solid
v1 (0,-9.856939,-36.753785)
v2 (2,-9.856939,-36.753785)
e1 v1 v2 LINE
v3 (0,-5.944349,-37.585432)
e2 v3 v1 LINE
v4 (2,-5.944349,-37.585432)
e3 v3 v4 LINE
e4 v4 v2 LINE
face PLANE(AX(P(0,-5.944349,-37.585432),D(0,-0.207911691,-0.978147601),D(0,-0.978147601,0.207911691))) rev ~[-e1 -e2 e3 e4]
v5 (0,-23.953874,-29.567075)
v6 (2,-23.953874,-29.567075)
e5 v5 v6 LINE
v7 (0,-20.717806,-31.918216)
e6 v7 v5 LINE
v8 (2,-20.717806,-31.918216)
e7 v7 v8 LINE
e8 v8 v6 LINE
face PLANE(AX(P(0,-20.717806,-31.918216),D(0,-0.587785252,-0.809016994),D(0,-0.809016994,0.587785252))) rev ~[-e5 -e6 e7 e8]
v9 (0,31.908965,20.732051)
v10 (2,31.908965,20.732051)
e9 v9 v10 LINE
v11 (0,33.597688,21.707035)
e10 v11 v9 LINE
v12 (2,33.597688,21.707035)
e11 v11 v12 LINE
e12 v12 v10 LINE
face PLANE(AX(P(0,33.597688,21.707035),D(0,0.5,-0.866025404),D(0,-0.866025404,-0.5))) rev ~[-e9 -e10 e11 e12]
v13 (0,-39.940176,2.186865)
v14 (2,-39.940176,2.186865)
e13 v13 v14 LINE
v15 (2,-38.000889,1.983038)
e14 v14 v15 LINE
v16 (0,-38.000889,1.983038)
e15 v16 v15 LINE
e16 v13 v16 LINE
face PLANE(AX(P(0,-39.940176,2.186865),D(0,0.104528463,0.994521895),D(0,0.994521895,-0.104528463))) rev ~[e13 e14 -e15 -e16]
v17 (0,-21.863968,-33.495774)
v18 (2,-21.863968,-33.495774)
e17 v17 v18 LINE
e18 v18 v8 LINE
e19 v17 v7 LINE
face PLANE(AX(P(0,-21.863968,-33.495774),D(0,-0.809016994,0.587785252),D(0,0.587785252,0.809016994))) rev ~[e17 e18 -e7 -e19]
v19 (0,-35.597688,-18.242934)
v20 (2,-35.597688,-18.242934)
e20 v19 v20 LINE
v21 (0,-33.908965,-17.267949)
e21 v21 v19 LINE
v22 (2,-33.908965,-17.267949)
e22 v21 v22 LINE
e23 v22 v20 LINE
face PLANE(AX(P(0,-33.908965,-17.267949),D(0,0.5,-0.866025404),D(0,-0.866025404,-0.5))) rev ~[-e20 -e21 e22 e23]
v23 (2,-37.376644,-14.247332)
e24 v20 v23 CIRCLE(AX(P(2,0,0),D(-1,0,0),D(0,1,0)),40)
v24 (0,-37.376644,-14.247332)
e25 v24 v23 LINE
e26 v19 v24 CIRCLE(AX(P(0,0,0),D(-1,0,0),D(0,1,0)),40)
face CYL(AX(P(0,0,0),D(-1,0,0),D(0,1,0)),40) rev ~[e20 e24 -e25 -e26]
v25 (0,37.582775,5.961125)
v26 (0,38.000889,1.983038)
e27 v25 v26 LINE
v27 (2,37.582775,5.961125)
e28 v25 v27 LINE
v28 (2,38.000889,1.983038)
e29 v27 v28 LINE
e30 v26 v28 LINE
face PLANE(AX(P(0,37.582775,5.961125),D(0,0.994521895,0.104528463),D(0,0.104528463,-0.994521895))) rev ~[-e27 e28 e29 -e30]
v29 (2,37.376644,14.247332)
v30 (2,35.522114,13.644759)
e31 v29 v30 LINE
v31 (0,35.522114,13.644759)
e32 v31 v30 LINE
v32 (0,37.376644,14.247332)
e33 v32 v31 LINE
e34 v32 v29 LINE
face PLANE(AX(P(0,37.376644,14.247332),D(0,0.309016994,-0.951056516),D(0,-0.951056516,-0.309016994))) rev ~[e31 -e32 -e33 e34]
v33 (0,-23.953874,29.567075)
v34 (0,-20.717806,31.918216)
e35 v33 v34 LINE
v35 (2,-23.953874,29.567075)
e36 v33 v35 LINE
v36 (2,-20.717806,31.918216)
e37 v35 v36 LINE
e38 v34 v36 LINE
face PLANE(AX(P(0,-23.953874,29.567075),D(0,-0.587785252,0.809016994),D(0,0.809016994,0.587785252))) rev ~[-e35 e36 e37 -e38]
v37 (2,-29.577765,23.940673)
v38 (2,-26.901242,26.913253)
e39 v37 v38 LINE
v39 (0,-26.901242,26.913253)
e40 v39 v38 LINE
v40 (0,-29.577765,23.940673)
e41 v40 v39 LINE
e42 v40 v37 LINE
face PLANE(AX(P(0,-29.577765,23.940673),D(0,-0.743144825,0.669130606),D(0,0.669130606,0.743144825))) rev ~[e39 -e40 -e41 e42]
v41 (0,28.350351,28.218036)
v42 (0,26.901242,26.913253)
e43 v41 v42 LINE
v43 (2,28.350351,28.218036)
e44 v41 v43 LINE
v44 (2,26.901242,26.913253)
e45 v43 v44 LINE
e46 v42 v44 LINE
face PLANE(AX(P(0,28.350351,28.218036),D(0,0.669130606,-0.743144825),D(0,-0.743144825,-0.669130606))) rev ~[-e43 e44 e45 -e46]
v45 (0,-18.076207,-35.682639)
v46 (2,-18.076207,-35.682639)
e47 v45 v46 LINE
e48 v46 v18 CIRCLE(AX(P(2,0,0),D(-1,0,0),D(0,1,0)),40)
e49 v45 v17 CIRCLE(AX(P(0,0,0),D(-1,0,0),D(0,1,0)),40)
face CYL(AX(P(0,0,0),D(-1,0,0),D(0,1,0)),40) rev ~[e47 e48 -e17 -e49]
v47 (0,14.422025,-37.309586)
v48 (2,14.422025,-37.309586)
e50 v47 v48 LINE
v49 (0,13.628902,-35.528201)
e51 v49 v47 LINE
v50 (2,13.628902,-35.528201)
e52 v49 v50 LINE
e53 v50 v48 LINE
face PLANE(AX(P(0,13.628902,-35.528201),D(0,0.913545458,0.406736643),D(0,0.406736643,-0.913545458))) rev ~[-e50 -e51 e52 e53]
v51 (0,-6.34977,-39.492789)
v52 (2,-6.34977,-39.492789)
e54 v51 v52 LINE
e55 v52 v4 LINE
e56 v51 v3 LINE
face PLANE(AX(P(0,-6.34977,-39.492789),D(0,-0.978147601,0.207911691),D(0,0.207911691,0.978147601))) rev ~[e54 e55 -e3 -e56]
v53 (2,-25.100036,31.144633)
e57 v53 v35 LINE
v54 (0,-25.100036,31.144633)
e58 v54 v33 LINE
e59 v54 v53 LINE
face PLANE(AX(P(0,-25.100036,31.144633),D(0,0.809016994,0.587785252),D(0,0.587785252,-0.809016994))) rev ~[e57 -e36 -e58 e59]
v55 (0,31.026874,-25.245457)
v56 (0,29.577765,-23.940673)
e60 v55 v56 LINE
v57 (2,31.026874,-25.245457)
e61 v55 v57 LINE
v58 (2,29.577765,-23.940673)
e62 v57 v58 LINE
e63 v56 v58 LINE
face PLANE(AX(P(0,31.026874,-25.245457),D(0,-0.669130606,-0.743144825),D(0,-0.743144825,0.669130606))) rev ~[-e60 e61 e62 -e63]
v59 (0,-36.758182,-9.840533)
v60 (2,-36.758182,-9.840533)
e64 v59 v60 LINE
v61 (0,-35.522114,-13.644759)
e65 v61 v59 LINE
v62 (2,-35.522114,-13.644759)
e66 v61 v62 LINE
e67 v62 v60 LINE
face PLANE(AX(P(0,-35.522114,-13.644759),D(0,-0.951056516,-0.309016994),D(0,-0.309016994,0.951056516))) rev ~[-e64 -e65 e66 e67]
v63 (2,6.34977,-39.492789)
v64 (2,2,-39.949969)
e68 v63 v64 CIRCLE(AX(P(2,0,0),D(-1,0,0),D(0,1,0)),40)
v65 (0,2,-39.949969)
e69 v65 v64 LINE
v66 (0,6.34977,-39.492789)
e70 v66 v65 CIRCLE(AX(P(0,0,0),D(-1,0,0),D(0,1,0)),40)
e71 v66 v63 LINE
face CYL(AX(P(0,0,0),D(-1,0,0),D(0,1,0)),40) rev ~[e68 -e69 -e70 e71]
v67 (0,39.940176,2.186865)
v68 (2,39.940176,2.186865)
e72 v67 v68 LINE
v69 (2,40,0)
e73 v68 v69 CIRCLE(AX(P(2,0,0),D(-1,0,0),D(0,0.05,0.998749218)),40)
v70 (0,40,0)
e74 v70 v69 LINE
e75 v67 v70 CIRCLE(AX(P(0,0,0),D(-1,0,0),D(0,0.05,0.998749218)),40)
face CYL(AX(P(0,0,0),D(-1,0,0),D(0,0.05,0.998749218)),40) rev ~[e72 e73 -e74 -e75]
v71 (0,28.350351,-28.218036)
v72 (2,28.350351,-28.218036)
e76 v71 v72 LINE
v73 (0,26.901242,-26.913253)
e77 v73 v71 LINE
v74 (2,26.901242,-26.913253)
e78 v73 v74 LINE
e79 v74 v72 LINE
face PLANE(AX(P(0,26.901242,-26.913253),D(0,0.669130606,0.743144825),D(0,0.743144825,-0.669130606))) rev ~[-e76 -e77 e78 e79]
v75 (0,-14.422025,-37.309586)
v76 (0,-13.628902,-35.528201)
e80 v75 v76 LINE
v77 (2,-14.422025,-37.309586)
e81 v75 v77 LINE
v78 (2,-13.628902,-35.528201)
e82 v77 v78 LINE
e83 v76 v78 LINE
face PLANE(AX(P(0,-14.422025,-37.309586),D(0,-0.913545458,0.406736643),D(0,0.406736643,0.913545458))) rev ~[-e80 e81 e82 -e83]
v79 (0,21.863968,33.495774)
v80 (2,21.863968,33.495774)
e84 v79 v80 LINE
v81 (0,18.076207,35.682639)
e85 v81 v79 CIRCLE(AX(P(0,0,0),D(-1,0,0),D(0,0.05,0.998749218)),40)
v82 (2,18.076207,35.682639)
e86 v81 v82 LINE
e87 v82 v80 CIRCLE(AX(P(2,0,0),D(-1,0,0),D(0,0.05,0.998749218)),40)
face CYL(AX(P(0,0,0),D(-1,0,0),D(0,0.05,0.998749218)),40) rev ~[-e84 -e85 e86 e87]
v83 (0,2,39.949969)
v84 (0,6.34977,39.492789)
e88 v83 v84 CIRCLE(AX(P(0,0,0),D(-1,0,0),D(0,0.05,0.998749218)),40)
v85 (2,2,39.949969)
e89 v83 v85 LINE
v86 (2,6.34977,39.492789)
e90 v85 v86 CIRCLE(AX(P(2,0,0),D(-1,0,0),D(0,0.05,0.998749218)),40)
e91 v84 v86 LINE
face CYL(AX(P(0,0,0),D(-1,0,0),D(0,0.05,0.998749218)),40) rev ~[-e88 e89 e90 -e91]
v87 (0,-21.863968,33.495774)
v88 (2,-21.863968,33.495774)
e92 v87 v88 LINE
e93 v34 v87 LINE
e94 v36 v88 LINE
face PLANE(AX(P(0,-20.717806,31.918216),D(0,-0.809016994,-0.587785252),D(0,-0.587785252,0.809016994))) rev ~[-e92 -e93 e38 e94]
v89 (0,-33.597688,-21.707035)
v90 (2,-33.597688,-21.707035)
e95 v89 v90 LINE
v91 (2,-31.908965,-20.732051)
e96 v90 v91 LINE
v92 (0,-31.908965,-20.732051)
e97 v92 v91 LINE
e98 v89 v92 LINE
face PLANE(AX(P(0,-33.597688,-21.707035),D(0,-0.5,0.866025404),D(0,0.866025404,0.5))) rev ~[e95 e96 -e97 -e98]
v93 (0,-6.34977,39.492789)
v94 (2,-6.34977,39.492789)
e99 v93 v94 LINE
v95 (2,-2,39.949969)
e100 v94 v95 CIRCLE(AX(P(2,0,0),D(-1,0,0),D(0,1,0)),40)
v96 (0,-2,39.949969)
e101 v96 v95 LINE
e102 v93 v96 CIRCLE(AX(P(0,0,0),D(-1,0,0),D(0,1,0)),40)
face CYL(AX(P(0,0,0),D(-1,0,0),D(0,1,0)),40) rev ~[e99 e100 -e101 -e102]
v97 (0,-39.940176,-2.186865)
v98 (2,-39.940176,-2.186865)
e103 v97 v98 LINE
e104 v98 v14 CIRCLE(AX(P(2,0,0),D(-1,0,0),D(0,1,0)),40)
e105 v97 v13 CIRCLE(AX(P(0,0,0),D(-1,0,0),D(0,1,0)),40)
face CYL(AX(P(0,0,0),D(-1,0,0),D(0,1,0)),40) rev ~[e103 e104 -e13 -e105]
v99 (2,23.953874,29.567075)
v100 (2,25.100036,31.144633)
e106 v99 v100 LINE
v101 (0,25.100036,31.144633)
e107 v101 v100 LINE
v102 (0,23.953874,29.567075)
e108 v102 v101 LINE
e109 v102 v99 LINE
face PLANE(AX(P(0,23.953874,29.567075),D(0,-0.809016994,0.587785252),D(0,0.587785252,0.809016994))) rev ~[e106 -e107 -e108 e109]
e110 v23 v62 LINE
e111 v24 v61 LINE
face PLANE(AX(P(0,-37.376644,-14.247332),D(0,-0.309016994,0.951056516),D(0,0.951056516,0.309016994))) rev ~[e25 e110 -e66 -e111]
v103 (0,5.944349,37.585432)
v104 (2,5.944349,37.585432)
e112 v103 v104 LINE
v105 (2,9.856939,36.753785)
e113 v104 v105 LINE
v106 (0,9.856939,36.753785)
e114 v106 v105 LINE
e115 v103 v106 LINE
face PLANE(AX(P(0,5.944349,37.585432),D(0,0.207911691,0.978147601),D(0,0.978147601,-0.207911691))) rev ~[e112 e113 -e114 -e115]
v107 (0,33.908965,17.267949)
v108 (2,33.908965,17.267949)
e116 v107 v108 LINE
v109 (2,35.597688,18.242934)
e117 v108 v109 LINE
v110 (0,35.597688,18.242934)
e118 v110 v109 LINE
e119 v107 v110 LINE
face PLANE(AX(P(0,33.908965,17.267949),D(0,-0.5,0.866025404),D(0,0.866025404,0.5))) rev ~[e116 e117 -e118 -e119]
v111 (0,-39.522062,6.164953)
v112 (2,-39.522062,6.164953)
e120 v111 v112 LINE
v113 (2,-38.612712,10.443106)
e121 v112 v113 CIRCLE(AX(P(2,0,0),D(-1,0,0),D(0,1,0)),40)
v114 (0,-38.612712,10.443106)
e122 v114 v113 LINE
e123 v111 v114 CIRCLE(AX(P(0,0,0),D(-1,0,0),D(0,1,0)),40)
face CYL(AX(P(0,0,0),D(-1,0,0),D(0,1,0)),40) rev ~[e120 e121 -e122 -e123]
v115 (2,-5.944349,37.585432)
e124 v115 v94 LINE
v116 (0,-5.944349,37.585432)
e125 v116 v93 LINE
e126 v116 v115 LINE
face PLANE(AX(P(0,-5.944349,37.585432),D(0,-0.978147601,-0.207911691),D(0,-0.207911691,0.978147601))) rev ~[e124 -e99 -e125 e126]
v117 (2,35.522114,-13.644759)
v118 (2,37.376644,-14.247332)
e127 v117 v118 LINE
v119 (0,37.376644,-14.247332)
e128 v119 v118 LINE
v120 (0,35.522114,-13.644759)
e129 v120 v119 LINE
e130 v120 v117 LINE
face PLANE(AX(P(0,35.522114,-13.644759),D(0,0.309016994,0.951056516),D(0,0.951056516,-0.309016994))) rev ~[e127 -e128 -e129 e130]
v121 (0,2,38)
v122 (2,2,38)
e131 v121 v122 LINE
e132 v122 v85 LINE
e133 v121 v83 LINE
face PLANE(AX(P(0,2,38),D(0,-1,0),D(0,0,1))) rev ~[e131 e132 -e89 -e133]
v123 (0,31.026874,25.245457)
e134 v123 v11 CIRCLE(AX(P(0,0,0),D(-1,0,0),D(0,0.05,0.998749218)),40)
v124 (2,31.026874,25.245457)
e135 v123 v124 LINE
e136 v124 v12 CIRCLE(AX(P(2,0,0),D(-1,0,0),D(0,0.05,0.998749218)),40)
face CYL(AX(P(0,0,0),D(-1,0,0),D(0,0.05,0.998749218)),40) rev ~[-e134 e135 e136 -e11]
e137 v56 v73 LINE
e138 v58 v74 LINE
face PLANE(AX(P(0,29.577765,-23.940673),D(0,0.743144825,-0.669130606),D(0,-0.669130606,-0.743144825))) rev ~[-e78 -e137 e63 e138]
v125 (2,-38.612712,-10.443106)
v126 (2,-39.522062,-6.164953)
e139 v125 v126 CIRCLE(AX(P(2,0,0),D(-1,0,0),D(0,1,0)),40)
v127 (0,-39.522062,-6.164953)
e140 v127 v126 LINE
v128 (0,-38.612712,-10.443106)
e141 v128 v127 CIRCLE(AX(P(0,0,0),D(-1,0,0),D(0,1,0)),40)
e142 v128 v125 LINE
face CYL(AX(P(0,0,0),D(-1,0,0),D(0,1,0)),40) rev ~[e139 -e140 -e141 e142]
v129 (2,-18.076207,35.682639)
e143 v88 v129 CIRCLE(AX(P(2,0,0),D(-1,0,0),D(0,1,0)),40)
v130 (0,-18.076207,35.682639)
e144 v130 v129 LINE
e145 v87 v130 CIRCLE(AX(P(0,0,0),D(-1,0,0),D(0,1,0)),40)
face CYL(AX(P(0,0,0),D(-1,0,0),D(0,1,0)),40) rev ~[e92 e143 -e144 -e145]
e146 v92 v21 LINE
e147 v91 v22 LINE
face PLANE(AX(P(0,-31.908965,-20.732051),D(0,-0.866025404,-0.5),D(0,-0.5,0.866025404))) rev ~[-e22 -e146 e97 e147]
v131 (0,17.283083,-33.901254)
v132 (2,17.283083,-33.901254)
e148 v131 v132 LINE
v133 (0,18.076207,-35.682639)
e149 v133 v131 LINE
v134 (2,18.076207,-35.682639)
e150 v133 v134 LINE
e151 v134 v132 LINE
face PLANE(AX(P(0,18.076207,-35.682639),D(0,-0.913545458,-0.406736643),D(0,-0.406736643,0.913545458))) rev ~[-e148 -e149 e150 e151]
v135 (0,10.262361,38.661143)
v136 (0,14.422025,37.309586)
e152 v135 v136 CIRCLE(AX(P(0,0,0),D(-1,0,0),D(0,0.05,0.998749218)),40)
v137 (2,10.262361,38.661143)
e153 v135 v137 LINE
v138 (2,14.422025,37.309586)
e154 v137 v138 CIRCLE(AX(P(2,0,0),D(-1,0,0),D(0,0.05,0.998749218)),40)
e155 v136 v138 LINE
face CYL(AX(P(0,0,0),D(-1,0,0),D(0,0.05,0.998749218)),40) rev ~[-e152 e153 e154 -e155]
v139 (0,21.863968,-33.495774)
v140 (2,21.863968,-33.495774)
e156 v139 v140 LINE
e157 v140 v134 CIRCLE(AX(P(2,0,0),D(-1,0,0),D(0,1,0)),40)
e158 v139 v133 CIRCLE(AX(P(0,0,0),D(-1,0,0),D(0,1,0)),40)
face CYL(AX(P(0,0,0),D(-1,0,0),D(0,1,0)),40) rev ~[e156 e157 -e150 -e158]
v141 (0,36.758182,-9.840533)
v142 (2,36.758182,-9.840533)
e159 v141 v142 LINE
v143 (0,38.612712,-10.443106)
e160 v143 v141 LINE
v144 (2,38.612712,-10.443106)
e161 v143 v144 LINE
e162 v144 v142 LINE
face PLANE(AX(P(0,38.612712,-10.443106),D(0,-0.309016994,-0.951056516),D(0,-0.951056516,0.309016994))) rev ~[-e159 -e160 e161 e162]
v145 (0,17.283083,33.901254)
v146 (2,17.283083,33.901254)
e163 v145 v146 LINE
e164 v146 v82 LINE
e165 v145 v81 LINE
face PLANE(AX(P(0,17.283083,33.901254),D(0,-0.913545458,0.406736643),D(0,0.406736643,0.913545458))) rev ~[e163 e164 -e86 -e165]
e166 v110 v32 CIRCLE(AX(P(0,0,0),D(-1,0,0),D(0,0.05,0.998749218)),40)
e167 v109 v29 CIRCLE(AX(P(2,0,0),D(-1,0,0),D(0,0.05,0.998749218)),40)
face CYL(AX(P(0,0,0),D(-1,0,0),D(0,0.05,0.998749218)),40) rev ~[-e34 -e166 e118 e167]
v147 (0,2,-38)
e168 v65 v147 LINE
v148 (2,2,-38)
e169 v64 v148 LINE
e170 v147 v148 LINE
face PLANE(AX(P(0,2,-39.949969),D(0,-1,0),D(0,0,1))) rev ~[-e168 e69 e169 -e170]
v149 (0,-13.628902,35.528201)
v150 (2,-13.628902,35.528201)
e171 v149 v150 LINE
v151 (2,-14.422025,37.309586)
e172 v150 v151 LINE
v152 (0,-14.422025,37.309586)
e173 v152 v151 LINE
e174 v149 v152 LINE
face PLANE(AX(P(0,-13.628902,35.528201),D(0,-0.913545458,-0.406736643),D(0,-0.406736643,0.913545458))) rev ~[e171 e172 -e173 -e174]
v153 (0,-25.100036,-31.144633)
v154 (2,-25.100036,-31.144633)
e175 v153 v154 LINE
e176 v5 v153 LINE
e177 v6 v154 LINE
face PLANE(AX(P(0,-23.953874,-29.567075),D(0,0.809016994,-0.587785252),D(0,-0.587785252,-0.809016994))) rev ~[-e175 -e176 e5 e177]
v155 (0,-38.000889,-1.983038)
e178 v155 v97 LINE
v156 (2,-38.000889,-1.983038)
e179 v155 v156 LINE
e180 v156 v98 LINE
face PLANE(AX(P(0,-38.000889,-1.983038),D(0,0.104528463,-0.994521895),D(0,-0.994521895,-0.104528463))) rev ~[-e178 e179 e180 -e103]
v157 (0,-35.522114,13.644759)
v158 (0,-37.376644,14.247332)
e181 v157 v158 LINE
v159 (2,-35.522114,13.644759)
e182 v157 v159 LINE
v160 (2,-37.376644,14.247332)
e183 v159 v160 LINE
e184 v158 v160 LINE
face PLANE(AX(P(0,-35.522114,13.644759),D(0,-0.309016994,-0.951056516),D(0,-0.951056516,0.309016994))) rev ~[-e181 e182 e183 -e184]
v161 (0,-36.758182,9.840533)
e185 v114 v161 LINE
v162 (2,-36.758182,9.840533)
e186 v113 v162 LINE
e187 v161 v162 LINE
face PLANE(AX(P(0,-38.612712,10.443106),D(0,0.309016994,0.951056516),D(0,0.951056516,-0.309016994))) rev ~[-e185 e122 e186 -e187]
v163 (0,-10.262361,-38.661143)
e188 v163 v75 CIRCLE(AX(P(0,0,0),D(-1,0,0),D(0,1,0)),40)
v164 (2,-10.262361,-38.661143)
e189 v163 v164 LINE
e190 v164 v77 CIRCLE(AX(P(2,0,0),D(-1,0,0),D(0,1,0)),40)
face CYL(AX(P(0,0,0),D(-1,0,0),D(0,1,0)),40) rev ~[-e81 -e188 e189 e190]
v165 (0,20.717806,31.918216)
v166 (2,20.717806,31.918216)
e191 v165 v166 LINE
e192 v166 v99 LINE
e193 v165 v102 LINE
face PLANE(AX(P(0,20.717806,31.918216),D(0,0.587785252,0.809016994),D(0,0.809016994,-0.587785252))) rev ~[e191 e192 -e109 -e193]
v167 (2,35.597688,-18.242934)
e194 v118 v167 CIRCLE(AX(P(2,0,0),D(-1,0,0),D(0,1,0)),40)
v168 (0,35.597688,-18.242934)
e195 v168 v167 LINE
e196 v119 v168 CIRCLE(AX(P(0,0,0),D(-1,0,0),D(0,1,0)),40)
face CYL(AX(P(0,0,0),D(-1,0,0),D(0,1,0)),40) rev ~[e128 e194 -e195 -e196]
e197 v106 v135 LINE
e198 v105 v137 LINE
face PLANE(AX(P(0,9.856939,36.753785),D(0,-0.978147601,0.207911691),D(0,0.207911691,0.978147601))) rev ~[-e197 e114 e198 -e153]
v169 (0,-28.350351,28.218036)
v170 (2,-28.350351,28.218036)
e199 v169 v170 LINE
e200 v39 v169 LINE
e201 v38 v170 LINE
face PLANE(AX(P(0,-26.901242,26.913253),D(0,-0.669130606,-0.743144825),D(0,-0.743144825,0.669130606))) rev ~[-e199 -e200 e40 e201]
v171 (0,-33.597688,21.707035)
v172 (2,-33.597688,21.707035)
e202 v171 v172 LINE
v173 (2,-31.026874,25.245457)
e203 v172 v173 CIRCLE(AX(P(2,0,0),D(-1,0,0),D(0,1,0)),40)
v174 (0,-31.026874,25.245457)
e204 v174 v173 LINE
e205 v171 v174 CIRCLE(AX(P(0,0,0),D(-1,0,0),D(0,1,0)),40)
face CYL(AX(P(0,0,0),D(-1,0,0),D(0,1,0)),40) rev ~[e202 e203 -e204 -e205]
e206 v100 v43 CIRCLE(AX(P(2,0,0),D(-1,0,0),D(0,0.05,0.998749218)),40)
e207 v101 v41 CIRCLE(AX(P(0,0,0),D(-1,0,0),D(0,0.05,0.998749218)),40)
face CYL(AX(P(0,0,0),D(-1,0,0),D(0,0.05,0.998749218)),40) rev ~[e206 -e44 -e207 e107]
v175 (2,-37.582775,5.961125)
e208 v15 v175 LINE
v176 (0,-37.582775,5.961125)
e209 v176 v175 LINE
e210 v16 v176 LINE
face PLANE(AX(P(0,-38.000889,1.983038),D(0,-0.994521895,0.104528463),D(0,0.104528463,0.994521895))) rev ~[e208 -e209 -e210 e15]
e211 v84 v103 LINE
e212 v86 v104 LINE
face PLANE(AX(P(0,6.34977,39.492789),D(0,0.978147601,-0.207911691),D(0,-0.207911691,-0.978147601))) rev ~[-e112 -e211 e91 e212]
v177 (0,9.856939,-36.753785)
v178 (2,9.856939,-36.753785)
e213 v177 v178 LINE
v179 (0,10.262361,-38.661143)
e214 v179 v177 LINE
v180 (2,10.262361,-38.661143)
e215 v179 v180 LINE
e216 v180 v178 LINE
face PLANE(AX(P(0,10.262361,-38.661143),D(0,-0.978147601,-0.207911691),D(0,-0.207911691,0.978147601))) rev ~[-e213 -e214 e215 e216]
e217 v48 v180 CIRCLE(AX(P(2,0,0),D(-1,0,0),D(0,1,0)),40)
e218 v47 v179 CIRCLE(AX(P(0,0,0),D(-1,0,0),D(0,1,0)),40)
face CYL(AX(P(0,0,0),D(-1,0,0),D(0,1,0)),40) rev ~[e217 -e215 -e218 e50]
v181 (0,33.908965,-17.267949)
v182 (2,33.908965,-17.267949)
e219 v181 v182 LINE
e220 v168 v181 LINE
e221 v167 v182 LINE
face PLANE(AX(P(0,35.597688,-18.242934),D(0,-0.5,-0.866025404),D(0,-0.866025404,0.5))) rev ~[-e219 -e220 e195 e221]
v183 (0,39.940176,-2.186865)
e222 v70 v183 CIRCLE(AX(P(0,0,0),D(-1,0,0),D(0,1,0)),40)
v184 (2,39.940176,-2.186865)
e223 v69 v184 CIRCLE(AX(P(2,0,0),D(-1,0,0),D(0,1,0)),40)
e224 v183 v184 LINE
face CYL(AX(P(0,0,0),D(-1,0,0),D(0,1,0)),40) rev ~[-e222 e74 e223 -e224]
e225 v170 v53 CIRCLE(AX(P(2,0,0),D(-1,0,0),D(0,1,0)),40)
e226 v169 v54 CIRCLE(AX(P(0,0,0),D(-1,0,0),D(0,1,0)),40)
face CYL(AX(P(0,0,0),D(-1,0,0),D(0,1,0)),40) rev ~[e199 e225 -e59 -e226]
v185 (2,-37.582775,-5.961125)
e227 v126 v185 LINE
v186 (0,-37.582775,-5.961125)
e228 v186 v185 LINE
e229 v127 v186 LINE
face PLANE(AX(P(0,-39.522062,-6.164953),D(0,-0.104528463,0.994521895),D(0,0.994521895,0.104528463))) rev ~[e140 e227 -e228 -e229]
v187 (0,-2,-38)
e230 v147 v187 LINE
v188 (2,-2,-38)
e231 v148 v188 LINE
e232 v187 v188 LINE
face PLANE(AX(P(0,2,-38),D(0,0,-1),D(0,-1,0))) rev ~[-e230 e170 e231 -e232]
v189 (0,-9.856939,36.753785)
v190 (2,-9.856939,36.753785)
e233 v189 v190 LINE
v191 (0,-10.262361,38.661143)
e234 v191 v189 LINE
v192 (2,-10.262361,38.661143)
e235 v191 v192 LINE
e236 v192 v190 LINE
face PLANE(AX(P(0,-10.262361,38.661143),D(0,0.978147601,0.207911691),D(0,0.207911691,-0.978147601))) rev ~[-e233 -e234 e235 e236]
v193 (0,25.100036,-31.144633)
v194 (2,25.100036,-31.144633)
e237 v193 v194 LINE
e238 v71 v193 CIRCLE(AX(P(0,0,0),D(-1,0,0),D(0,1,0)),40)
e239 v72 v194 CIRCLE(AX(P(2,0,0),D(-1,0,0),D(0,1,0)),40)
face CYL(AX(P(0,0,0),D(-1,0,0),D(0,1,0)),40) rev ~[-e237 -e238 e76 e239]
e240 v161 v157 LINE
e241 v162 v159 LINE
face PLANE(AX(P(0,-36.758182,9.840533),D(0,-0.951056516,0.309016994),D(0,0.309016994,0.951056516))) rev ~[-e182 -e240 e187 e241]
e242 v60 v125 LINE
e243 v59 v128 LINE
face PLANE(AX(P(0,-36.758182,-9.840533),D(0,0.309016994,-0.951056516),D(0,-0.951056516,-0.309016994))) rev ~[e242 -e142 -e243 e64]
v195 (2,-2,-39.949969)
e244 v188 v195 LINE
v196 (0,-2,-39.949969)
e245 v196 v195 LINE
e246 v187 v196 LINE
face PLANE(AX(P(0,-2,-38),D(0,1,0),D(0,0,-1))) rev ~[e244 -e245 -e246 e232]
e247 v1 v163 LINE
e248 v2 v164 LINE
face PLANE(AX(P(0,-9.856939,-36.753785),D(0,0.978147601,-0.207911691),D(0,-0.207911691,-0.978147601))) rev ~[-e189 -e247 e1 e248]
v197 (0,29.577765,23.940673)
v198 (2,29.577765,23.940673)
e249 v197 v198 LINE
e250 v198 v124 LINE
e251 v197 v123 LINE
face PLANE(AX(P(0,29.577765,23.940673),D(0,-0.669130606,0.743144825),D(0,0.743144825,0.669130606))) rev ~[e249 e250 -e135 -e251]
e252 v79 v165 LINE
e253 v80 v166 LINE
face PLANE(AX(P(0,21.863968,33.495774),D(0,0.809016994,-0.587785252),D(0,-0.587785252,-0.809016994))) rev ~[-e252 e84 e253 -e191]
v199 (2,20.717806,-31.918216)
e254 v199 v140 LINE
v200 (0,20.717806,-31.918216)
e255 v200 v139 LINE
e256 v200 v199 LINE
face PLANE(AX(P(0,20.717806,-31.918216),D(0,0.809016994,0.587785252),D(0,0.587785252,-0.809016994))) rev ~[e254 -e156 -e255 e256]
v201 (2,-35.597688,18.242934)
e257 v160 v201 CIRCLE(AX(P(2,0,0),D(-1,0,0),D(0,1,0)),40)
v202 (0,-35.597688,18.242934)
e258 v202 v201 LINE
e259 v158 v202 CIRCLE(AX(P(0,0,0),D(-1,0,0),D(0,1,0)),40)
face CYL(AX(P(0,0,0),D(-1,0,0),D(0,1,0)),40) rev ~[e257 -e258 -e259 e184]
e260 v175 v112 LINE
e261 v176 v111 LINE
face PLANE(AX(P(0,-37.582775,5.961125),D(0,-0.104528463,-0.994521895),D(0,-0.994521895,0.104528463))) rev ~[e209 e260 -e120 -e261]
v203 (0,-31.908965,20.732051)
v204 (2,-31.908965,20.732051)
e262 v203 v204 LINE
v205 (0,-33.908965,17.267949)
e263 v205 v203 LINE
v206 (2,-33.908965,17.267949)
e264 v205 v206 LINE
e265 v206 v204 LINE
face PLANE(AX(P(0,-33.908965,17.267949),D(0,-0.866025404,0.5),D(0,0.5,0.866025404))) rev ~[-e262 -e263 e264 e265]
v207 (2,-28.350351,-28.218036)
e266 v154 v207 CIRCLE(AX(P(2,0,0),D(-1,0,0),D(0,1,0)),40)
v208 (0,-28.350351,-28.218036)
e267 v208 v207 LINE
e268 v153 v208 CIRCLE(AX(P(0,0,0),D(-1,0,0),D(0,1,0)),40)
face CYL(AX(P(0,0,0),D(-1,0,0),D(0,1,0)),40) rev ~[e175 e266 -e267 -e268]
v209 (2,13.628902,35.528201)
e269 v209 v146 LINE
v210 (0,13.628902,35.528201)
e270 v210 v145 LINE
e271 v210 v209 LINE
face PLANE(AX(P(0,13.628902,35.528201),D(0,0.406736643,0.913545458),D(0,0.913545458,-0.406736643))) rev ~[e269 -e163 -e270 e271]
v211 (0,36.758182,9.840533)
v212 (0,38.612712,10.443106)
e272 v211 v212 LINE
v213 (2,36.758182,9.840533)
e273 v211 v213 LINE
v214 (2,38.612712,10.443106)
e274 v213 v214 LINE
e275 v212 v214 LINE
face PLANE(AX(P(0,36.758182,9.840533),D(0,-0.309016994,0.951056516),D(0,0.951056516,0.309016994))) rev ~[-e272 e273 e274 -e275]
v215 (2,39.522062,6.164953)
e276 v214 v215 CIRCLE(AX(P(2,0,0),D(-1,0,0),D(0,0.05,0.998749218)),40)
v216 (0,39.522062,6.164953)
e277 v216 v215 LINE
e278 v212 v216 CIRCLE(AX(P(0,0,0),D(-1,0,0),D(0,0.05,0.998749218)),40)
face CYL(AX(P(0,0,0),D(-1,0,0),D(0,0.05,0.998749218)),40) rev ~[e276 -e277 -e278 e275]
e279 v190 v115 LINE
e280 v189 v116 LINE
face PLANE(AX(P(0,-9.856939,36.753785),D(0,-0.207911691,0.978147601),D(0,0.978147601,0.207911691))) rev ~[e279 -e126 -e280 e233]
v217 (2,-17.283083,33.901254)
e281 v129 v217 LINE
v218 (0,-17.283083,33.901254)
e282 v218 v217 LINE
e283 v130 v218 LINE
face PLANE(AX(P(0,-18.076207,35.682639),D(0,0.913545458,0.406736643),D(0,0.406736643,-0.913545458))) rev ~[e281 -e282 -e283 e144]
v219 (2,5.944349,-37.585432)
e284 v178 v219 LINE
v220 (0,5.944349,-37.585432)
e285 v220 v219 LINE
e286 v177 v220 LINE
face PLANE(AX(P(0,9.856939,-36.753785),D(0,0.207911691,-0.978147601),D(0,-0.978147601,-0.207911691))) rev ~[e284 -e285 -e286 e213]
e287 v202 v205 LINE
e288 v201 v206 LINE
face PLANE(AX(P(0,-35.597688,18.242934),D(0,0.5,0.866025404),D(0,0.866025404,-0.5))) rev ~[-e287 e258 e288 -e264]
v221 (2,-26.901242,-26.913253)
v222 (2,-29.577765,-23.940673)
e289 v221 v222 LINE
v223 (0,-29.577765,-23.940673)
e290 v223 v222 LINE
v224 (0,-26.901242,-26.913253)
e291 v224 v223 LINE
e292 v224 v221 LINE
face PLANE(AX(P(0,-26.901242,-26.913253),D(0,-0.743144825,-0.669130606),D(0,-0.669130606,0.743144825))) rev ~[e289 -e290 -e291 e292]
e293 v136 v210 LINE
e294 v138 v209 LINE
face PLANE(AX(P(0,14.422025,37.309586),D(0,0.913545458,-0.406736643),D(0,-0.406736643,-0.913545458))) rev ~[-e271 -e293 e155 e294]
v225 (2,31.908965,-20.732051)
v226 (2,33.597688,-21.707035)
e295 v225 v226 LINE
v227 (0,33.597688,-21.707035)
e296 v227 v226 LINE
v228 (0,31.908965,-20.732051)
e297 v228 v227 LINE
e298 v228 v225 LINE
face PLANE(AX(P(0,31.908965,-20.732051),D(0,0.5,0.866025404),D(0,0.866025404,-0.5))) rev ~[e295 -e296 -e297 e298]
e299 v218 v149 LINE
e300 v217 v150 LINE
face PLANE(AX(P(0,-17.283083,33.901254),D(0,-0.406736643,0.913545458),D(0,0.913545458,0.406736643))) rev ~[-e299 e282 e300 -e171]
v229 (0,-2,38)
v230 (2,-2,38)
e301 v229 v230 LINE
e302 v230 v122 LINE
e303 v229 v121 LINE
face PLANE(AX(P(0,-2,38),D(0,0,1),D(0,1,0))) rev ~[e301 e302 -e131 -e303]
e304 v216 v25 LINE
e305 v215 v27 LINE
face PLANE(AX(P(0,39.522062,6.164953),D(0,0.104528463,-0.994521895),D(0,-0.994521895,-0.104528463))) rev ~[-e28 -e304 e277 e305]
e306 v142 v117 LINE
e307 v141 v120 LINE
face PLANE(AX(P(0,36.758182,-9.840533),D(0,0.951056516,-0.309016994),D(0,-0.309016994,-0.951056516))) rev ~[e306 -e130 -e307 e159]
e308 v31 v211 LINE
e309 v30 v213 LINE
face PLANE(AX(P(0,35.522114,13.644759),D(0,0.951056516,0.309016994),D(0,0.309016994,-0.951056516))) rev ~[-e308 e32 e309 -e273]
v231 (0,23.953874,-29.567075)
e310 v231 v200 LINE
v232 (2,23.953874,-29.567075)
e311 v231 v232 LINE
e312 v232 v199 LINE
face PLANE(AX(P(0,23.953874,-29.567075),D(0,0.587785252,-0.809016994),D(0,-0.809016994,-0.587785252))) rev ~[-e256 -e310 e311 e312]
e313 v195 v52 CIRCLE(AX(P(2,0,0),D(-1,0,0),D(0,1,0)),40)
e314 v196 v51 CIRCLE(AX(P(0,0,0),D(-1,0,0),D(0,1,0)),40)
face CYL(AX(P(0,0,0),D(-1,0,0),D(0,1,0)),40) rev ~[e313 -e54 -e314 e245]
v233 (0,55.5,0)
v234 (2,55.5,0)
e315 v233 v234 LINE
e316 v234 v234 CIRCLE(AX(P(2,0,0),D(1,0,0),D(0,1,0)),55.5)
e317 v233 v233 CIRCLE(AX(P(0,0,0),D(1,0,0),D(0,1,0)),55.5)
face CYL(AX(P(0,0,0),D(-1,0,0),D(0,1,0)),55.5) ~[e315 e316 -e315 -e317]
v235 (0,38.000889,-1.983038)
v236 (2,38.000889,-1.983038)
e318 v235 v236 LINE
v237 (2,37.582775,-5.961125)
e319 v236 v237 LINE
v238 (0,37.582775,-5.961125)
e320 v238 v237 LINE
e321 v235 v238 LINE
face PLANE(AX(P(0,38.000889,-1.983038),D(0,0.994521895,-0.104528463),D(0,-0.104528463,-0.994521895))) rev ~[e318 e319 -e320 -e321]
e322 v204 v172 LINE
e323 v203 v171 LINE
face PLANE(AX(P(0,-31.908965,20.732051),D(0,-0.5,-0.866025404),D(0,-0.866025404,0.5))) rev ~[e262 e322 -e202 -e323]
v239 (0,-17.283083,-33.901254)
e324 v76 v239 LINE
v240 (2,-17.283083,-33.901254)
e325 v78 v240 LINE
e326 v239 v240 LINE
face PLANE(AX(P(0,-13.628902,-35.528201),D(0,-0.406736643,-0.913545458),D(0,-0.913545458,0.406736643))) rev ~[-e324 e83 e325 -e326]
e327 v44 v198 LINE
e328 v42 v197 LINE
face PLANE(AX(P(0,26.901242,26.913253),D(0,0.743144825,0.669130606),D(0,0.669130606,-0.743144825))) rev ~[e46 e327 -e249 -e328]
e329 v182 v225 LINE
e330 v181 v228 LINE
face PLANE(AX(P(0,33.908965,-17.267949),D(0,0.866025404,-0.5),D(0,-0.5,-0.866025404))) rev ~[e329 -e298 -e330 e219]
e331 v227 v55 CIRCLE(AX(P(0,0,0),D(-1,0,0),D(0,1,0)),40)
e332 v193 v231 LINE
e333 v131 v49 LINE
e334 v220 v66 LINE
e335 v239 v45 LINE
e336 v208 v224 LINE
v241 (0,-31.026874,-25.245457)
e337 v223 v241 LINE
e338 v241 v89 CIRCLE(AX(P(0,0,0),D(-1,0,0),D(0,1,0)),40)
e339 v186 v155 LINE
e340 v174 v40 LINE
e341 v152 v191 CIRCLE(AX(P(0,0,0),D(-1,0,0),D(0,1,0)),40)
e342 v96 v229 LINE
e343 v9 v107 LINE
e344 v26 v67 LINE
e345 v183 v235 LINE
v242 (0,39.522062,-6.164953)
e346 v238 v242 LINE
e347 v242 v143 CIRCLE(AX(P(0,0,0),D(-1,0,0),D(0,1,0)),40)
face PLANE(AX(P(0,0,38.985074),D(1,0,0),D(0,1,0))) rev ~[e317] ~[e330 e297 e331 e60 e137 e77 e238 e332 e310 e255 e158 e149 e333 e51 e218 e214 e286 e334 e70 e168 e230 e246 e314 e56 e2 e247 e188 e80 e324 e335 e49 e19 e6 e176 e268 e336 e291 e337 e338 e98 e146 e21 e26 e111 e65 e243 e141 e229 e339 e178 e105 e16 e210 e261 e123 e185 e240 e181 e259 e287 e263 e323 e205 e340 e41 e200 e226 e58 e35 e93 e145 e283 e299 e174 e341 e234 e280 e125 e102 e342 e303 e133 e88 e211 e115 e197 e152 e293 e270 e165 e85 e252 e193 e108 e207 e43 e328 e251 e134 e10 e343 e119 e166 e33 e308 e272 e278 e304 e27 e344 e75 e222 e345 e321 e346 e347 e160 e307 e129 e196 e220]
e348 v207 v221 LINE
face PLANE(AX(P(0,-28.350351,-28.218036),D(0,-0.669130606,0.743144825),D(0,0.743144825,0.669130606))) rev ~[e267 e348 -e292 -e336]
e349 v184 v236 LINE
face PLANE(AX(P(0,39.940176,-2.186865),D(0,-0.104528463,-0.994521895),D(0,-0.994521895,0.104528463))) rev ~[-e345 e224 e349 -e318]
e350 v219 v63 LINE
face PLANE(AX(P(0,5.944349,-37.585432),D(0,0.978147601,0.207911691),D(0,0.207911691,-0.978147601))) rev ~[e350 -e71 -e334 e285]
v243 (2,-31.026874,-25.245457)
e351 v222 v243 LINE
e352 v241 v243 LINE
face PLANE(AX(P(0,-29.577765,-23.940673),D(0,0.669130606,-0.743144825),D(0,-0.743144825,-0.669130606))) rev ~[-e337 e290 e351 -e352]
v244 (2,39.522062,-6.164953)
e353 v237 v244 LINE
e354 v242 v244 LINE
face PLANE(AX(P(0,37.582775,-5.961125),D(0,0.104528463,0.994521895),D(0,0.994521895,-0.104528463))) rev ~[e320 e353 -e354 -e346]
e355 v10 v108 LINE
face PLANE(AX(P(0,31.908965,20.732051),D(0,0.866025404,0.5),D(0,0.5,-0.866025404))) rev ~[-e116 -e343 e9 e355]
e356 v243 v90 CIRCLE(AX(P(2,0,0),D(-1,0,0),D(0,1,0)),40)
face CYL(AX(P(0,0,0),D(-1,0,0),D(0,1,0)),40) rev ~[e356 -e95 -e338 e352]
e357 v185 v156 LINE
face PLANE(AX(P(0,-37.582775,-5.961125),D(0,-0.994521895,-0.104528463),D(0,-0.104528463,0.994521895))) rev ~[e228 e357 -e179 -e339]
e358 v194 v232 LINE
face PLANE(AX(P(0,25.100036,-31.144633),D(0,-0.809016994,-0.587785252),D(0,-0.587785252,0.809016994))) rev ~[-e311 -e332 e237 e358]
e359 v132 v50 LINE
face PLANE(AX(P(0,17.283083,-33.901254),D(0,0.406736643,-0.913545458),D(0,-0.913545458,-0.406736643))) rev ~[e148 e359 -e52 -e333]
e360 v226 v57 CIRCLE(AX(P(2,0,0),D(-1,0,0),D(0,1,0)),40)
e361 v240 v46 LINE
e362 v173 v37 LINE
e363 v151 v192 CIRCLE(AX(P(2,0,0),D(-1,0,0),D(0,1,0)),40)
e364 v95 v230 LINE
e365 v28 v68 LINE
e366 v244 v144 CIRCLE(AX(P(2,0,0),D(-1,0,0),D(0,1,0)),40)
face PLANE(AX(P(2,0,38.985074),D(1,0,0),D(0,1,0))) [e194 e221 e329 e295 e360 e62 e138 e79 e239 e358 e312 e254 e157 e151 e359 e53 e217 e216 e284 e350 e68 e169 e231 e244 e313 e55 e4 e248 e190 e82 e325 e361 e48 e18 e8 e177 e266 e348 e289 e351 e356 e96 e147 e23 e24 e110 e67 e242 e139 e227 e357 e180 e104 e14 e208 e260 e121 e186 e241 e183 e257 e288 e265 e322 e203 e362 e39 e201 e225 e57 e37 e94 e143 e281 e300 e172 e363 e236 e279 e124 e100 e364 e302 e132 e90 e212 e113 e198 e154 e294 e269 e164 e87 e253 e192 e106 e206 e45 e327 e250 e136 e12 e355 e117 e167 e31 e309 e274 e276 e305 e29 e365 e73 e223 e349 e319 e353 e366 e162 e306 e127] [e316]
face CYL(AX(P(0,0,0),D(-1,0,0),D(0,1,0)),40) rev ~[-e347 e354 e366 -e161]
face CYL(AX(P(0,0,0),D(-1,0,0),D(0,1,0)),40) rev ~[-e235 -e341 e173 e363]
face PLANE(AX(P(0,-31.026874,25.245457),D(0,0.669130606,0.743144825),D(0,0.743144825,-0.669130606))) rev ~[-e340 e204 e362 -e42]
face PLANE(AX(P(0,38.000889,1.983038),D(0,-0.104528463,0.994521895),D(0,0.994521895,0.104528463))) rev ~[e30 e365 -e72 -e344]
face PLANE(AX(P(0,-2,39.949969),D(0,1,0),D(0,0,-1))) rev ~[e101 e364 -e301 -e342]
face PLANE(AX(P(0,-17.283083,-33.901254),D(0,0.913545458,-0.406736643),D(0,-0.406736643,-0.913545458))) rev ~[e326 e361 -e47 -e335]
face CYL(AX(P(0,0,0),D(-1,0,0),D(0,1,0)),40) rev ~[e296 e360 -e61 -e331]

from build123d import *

# Parameters (mm, degrees)
SKETCH1_R           = 55.5
BOSS_EXTRUDE1_DEPTH = 2
BOSS_EXTRUDE2_DEPTH = 2
CIRPATTERN1_COUNT   = 30


with BuildPart() as part:
    # Sketch1 → Boss-Extrude1 (new body)
    with BuildSketch(Plane.YZ):
        Circle(SKETCH1_R)
        with BuildLine():
            ThreePointArc((40, 0), (-27.568097504, -28.982753492), (-2, 39.949968711))
            ThreePointArc((-2, 39.949968711), (0, 40), (2, 39.949968711))
            ThreePointArc((2, 39.949968711), (28.982753492, 27.568097504), (40, 0))
        make_face(mode=Mode.SUBTRACT)
    extrude(amount=BOSS_EXTRUDE1_DEPTH)

    # Sketch1<3> → Boss-Extrude2 (add)
    with BuildSketch(Plane.YZ):
        with BuildLine():
            Line((-2, 39.949968711), (-2, 38))
            Line((-2, 38), (2, 38))
            Line((2, 38), (2, 39.949968711))
            ThreePointArc((2, 39.949968711), (0, 40), (-2, 39.949968711))
        make_face()
    boss_extrude2 = extrude(amount=BOSS_EXTRUDE2_DEPTH)

    # CirPattern1: Boss-Extrude2 ×30 about axis
    cirpattern1_axis = Axis((2, 0, 0), (1, 0, 0))
    for i in range(1, CIRPATTERN1_COUNT):
        add(boss_extrude2.rotate(cirpattern1_axis, i * 360 / CIRPATTERN1_COUNT))


solid = part.part
